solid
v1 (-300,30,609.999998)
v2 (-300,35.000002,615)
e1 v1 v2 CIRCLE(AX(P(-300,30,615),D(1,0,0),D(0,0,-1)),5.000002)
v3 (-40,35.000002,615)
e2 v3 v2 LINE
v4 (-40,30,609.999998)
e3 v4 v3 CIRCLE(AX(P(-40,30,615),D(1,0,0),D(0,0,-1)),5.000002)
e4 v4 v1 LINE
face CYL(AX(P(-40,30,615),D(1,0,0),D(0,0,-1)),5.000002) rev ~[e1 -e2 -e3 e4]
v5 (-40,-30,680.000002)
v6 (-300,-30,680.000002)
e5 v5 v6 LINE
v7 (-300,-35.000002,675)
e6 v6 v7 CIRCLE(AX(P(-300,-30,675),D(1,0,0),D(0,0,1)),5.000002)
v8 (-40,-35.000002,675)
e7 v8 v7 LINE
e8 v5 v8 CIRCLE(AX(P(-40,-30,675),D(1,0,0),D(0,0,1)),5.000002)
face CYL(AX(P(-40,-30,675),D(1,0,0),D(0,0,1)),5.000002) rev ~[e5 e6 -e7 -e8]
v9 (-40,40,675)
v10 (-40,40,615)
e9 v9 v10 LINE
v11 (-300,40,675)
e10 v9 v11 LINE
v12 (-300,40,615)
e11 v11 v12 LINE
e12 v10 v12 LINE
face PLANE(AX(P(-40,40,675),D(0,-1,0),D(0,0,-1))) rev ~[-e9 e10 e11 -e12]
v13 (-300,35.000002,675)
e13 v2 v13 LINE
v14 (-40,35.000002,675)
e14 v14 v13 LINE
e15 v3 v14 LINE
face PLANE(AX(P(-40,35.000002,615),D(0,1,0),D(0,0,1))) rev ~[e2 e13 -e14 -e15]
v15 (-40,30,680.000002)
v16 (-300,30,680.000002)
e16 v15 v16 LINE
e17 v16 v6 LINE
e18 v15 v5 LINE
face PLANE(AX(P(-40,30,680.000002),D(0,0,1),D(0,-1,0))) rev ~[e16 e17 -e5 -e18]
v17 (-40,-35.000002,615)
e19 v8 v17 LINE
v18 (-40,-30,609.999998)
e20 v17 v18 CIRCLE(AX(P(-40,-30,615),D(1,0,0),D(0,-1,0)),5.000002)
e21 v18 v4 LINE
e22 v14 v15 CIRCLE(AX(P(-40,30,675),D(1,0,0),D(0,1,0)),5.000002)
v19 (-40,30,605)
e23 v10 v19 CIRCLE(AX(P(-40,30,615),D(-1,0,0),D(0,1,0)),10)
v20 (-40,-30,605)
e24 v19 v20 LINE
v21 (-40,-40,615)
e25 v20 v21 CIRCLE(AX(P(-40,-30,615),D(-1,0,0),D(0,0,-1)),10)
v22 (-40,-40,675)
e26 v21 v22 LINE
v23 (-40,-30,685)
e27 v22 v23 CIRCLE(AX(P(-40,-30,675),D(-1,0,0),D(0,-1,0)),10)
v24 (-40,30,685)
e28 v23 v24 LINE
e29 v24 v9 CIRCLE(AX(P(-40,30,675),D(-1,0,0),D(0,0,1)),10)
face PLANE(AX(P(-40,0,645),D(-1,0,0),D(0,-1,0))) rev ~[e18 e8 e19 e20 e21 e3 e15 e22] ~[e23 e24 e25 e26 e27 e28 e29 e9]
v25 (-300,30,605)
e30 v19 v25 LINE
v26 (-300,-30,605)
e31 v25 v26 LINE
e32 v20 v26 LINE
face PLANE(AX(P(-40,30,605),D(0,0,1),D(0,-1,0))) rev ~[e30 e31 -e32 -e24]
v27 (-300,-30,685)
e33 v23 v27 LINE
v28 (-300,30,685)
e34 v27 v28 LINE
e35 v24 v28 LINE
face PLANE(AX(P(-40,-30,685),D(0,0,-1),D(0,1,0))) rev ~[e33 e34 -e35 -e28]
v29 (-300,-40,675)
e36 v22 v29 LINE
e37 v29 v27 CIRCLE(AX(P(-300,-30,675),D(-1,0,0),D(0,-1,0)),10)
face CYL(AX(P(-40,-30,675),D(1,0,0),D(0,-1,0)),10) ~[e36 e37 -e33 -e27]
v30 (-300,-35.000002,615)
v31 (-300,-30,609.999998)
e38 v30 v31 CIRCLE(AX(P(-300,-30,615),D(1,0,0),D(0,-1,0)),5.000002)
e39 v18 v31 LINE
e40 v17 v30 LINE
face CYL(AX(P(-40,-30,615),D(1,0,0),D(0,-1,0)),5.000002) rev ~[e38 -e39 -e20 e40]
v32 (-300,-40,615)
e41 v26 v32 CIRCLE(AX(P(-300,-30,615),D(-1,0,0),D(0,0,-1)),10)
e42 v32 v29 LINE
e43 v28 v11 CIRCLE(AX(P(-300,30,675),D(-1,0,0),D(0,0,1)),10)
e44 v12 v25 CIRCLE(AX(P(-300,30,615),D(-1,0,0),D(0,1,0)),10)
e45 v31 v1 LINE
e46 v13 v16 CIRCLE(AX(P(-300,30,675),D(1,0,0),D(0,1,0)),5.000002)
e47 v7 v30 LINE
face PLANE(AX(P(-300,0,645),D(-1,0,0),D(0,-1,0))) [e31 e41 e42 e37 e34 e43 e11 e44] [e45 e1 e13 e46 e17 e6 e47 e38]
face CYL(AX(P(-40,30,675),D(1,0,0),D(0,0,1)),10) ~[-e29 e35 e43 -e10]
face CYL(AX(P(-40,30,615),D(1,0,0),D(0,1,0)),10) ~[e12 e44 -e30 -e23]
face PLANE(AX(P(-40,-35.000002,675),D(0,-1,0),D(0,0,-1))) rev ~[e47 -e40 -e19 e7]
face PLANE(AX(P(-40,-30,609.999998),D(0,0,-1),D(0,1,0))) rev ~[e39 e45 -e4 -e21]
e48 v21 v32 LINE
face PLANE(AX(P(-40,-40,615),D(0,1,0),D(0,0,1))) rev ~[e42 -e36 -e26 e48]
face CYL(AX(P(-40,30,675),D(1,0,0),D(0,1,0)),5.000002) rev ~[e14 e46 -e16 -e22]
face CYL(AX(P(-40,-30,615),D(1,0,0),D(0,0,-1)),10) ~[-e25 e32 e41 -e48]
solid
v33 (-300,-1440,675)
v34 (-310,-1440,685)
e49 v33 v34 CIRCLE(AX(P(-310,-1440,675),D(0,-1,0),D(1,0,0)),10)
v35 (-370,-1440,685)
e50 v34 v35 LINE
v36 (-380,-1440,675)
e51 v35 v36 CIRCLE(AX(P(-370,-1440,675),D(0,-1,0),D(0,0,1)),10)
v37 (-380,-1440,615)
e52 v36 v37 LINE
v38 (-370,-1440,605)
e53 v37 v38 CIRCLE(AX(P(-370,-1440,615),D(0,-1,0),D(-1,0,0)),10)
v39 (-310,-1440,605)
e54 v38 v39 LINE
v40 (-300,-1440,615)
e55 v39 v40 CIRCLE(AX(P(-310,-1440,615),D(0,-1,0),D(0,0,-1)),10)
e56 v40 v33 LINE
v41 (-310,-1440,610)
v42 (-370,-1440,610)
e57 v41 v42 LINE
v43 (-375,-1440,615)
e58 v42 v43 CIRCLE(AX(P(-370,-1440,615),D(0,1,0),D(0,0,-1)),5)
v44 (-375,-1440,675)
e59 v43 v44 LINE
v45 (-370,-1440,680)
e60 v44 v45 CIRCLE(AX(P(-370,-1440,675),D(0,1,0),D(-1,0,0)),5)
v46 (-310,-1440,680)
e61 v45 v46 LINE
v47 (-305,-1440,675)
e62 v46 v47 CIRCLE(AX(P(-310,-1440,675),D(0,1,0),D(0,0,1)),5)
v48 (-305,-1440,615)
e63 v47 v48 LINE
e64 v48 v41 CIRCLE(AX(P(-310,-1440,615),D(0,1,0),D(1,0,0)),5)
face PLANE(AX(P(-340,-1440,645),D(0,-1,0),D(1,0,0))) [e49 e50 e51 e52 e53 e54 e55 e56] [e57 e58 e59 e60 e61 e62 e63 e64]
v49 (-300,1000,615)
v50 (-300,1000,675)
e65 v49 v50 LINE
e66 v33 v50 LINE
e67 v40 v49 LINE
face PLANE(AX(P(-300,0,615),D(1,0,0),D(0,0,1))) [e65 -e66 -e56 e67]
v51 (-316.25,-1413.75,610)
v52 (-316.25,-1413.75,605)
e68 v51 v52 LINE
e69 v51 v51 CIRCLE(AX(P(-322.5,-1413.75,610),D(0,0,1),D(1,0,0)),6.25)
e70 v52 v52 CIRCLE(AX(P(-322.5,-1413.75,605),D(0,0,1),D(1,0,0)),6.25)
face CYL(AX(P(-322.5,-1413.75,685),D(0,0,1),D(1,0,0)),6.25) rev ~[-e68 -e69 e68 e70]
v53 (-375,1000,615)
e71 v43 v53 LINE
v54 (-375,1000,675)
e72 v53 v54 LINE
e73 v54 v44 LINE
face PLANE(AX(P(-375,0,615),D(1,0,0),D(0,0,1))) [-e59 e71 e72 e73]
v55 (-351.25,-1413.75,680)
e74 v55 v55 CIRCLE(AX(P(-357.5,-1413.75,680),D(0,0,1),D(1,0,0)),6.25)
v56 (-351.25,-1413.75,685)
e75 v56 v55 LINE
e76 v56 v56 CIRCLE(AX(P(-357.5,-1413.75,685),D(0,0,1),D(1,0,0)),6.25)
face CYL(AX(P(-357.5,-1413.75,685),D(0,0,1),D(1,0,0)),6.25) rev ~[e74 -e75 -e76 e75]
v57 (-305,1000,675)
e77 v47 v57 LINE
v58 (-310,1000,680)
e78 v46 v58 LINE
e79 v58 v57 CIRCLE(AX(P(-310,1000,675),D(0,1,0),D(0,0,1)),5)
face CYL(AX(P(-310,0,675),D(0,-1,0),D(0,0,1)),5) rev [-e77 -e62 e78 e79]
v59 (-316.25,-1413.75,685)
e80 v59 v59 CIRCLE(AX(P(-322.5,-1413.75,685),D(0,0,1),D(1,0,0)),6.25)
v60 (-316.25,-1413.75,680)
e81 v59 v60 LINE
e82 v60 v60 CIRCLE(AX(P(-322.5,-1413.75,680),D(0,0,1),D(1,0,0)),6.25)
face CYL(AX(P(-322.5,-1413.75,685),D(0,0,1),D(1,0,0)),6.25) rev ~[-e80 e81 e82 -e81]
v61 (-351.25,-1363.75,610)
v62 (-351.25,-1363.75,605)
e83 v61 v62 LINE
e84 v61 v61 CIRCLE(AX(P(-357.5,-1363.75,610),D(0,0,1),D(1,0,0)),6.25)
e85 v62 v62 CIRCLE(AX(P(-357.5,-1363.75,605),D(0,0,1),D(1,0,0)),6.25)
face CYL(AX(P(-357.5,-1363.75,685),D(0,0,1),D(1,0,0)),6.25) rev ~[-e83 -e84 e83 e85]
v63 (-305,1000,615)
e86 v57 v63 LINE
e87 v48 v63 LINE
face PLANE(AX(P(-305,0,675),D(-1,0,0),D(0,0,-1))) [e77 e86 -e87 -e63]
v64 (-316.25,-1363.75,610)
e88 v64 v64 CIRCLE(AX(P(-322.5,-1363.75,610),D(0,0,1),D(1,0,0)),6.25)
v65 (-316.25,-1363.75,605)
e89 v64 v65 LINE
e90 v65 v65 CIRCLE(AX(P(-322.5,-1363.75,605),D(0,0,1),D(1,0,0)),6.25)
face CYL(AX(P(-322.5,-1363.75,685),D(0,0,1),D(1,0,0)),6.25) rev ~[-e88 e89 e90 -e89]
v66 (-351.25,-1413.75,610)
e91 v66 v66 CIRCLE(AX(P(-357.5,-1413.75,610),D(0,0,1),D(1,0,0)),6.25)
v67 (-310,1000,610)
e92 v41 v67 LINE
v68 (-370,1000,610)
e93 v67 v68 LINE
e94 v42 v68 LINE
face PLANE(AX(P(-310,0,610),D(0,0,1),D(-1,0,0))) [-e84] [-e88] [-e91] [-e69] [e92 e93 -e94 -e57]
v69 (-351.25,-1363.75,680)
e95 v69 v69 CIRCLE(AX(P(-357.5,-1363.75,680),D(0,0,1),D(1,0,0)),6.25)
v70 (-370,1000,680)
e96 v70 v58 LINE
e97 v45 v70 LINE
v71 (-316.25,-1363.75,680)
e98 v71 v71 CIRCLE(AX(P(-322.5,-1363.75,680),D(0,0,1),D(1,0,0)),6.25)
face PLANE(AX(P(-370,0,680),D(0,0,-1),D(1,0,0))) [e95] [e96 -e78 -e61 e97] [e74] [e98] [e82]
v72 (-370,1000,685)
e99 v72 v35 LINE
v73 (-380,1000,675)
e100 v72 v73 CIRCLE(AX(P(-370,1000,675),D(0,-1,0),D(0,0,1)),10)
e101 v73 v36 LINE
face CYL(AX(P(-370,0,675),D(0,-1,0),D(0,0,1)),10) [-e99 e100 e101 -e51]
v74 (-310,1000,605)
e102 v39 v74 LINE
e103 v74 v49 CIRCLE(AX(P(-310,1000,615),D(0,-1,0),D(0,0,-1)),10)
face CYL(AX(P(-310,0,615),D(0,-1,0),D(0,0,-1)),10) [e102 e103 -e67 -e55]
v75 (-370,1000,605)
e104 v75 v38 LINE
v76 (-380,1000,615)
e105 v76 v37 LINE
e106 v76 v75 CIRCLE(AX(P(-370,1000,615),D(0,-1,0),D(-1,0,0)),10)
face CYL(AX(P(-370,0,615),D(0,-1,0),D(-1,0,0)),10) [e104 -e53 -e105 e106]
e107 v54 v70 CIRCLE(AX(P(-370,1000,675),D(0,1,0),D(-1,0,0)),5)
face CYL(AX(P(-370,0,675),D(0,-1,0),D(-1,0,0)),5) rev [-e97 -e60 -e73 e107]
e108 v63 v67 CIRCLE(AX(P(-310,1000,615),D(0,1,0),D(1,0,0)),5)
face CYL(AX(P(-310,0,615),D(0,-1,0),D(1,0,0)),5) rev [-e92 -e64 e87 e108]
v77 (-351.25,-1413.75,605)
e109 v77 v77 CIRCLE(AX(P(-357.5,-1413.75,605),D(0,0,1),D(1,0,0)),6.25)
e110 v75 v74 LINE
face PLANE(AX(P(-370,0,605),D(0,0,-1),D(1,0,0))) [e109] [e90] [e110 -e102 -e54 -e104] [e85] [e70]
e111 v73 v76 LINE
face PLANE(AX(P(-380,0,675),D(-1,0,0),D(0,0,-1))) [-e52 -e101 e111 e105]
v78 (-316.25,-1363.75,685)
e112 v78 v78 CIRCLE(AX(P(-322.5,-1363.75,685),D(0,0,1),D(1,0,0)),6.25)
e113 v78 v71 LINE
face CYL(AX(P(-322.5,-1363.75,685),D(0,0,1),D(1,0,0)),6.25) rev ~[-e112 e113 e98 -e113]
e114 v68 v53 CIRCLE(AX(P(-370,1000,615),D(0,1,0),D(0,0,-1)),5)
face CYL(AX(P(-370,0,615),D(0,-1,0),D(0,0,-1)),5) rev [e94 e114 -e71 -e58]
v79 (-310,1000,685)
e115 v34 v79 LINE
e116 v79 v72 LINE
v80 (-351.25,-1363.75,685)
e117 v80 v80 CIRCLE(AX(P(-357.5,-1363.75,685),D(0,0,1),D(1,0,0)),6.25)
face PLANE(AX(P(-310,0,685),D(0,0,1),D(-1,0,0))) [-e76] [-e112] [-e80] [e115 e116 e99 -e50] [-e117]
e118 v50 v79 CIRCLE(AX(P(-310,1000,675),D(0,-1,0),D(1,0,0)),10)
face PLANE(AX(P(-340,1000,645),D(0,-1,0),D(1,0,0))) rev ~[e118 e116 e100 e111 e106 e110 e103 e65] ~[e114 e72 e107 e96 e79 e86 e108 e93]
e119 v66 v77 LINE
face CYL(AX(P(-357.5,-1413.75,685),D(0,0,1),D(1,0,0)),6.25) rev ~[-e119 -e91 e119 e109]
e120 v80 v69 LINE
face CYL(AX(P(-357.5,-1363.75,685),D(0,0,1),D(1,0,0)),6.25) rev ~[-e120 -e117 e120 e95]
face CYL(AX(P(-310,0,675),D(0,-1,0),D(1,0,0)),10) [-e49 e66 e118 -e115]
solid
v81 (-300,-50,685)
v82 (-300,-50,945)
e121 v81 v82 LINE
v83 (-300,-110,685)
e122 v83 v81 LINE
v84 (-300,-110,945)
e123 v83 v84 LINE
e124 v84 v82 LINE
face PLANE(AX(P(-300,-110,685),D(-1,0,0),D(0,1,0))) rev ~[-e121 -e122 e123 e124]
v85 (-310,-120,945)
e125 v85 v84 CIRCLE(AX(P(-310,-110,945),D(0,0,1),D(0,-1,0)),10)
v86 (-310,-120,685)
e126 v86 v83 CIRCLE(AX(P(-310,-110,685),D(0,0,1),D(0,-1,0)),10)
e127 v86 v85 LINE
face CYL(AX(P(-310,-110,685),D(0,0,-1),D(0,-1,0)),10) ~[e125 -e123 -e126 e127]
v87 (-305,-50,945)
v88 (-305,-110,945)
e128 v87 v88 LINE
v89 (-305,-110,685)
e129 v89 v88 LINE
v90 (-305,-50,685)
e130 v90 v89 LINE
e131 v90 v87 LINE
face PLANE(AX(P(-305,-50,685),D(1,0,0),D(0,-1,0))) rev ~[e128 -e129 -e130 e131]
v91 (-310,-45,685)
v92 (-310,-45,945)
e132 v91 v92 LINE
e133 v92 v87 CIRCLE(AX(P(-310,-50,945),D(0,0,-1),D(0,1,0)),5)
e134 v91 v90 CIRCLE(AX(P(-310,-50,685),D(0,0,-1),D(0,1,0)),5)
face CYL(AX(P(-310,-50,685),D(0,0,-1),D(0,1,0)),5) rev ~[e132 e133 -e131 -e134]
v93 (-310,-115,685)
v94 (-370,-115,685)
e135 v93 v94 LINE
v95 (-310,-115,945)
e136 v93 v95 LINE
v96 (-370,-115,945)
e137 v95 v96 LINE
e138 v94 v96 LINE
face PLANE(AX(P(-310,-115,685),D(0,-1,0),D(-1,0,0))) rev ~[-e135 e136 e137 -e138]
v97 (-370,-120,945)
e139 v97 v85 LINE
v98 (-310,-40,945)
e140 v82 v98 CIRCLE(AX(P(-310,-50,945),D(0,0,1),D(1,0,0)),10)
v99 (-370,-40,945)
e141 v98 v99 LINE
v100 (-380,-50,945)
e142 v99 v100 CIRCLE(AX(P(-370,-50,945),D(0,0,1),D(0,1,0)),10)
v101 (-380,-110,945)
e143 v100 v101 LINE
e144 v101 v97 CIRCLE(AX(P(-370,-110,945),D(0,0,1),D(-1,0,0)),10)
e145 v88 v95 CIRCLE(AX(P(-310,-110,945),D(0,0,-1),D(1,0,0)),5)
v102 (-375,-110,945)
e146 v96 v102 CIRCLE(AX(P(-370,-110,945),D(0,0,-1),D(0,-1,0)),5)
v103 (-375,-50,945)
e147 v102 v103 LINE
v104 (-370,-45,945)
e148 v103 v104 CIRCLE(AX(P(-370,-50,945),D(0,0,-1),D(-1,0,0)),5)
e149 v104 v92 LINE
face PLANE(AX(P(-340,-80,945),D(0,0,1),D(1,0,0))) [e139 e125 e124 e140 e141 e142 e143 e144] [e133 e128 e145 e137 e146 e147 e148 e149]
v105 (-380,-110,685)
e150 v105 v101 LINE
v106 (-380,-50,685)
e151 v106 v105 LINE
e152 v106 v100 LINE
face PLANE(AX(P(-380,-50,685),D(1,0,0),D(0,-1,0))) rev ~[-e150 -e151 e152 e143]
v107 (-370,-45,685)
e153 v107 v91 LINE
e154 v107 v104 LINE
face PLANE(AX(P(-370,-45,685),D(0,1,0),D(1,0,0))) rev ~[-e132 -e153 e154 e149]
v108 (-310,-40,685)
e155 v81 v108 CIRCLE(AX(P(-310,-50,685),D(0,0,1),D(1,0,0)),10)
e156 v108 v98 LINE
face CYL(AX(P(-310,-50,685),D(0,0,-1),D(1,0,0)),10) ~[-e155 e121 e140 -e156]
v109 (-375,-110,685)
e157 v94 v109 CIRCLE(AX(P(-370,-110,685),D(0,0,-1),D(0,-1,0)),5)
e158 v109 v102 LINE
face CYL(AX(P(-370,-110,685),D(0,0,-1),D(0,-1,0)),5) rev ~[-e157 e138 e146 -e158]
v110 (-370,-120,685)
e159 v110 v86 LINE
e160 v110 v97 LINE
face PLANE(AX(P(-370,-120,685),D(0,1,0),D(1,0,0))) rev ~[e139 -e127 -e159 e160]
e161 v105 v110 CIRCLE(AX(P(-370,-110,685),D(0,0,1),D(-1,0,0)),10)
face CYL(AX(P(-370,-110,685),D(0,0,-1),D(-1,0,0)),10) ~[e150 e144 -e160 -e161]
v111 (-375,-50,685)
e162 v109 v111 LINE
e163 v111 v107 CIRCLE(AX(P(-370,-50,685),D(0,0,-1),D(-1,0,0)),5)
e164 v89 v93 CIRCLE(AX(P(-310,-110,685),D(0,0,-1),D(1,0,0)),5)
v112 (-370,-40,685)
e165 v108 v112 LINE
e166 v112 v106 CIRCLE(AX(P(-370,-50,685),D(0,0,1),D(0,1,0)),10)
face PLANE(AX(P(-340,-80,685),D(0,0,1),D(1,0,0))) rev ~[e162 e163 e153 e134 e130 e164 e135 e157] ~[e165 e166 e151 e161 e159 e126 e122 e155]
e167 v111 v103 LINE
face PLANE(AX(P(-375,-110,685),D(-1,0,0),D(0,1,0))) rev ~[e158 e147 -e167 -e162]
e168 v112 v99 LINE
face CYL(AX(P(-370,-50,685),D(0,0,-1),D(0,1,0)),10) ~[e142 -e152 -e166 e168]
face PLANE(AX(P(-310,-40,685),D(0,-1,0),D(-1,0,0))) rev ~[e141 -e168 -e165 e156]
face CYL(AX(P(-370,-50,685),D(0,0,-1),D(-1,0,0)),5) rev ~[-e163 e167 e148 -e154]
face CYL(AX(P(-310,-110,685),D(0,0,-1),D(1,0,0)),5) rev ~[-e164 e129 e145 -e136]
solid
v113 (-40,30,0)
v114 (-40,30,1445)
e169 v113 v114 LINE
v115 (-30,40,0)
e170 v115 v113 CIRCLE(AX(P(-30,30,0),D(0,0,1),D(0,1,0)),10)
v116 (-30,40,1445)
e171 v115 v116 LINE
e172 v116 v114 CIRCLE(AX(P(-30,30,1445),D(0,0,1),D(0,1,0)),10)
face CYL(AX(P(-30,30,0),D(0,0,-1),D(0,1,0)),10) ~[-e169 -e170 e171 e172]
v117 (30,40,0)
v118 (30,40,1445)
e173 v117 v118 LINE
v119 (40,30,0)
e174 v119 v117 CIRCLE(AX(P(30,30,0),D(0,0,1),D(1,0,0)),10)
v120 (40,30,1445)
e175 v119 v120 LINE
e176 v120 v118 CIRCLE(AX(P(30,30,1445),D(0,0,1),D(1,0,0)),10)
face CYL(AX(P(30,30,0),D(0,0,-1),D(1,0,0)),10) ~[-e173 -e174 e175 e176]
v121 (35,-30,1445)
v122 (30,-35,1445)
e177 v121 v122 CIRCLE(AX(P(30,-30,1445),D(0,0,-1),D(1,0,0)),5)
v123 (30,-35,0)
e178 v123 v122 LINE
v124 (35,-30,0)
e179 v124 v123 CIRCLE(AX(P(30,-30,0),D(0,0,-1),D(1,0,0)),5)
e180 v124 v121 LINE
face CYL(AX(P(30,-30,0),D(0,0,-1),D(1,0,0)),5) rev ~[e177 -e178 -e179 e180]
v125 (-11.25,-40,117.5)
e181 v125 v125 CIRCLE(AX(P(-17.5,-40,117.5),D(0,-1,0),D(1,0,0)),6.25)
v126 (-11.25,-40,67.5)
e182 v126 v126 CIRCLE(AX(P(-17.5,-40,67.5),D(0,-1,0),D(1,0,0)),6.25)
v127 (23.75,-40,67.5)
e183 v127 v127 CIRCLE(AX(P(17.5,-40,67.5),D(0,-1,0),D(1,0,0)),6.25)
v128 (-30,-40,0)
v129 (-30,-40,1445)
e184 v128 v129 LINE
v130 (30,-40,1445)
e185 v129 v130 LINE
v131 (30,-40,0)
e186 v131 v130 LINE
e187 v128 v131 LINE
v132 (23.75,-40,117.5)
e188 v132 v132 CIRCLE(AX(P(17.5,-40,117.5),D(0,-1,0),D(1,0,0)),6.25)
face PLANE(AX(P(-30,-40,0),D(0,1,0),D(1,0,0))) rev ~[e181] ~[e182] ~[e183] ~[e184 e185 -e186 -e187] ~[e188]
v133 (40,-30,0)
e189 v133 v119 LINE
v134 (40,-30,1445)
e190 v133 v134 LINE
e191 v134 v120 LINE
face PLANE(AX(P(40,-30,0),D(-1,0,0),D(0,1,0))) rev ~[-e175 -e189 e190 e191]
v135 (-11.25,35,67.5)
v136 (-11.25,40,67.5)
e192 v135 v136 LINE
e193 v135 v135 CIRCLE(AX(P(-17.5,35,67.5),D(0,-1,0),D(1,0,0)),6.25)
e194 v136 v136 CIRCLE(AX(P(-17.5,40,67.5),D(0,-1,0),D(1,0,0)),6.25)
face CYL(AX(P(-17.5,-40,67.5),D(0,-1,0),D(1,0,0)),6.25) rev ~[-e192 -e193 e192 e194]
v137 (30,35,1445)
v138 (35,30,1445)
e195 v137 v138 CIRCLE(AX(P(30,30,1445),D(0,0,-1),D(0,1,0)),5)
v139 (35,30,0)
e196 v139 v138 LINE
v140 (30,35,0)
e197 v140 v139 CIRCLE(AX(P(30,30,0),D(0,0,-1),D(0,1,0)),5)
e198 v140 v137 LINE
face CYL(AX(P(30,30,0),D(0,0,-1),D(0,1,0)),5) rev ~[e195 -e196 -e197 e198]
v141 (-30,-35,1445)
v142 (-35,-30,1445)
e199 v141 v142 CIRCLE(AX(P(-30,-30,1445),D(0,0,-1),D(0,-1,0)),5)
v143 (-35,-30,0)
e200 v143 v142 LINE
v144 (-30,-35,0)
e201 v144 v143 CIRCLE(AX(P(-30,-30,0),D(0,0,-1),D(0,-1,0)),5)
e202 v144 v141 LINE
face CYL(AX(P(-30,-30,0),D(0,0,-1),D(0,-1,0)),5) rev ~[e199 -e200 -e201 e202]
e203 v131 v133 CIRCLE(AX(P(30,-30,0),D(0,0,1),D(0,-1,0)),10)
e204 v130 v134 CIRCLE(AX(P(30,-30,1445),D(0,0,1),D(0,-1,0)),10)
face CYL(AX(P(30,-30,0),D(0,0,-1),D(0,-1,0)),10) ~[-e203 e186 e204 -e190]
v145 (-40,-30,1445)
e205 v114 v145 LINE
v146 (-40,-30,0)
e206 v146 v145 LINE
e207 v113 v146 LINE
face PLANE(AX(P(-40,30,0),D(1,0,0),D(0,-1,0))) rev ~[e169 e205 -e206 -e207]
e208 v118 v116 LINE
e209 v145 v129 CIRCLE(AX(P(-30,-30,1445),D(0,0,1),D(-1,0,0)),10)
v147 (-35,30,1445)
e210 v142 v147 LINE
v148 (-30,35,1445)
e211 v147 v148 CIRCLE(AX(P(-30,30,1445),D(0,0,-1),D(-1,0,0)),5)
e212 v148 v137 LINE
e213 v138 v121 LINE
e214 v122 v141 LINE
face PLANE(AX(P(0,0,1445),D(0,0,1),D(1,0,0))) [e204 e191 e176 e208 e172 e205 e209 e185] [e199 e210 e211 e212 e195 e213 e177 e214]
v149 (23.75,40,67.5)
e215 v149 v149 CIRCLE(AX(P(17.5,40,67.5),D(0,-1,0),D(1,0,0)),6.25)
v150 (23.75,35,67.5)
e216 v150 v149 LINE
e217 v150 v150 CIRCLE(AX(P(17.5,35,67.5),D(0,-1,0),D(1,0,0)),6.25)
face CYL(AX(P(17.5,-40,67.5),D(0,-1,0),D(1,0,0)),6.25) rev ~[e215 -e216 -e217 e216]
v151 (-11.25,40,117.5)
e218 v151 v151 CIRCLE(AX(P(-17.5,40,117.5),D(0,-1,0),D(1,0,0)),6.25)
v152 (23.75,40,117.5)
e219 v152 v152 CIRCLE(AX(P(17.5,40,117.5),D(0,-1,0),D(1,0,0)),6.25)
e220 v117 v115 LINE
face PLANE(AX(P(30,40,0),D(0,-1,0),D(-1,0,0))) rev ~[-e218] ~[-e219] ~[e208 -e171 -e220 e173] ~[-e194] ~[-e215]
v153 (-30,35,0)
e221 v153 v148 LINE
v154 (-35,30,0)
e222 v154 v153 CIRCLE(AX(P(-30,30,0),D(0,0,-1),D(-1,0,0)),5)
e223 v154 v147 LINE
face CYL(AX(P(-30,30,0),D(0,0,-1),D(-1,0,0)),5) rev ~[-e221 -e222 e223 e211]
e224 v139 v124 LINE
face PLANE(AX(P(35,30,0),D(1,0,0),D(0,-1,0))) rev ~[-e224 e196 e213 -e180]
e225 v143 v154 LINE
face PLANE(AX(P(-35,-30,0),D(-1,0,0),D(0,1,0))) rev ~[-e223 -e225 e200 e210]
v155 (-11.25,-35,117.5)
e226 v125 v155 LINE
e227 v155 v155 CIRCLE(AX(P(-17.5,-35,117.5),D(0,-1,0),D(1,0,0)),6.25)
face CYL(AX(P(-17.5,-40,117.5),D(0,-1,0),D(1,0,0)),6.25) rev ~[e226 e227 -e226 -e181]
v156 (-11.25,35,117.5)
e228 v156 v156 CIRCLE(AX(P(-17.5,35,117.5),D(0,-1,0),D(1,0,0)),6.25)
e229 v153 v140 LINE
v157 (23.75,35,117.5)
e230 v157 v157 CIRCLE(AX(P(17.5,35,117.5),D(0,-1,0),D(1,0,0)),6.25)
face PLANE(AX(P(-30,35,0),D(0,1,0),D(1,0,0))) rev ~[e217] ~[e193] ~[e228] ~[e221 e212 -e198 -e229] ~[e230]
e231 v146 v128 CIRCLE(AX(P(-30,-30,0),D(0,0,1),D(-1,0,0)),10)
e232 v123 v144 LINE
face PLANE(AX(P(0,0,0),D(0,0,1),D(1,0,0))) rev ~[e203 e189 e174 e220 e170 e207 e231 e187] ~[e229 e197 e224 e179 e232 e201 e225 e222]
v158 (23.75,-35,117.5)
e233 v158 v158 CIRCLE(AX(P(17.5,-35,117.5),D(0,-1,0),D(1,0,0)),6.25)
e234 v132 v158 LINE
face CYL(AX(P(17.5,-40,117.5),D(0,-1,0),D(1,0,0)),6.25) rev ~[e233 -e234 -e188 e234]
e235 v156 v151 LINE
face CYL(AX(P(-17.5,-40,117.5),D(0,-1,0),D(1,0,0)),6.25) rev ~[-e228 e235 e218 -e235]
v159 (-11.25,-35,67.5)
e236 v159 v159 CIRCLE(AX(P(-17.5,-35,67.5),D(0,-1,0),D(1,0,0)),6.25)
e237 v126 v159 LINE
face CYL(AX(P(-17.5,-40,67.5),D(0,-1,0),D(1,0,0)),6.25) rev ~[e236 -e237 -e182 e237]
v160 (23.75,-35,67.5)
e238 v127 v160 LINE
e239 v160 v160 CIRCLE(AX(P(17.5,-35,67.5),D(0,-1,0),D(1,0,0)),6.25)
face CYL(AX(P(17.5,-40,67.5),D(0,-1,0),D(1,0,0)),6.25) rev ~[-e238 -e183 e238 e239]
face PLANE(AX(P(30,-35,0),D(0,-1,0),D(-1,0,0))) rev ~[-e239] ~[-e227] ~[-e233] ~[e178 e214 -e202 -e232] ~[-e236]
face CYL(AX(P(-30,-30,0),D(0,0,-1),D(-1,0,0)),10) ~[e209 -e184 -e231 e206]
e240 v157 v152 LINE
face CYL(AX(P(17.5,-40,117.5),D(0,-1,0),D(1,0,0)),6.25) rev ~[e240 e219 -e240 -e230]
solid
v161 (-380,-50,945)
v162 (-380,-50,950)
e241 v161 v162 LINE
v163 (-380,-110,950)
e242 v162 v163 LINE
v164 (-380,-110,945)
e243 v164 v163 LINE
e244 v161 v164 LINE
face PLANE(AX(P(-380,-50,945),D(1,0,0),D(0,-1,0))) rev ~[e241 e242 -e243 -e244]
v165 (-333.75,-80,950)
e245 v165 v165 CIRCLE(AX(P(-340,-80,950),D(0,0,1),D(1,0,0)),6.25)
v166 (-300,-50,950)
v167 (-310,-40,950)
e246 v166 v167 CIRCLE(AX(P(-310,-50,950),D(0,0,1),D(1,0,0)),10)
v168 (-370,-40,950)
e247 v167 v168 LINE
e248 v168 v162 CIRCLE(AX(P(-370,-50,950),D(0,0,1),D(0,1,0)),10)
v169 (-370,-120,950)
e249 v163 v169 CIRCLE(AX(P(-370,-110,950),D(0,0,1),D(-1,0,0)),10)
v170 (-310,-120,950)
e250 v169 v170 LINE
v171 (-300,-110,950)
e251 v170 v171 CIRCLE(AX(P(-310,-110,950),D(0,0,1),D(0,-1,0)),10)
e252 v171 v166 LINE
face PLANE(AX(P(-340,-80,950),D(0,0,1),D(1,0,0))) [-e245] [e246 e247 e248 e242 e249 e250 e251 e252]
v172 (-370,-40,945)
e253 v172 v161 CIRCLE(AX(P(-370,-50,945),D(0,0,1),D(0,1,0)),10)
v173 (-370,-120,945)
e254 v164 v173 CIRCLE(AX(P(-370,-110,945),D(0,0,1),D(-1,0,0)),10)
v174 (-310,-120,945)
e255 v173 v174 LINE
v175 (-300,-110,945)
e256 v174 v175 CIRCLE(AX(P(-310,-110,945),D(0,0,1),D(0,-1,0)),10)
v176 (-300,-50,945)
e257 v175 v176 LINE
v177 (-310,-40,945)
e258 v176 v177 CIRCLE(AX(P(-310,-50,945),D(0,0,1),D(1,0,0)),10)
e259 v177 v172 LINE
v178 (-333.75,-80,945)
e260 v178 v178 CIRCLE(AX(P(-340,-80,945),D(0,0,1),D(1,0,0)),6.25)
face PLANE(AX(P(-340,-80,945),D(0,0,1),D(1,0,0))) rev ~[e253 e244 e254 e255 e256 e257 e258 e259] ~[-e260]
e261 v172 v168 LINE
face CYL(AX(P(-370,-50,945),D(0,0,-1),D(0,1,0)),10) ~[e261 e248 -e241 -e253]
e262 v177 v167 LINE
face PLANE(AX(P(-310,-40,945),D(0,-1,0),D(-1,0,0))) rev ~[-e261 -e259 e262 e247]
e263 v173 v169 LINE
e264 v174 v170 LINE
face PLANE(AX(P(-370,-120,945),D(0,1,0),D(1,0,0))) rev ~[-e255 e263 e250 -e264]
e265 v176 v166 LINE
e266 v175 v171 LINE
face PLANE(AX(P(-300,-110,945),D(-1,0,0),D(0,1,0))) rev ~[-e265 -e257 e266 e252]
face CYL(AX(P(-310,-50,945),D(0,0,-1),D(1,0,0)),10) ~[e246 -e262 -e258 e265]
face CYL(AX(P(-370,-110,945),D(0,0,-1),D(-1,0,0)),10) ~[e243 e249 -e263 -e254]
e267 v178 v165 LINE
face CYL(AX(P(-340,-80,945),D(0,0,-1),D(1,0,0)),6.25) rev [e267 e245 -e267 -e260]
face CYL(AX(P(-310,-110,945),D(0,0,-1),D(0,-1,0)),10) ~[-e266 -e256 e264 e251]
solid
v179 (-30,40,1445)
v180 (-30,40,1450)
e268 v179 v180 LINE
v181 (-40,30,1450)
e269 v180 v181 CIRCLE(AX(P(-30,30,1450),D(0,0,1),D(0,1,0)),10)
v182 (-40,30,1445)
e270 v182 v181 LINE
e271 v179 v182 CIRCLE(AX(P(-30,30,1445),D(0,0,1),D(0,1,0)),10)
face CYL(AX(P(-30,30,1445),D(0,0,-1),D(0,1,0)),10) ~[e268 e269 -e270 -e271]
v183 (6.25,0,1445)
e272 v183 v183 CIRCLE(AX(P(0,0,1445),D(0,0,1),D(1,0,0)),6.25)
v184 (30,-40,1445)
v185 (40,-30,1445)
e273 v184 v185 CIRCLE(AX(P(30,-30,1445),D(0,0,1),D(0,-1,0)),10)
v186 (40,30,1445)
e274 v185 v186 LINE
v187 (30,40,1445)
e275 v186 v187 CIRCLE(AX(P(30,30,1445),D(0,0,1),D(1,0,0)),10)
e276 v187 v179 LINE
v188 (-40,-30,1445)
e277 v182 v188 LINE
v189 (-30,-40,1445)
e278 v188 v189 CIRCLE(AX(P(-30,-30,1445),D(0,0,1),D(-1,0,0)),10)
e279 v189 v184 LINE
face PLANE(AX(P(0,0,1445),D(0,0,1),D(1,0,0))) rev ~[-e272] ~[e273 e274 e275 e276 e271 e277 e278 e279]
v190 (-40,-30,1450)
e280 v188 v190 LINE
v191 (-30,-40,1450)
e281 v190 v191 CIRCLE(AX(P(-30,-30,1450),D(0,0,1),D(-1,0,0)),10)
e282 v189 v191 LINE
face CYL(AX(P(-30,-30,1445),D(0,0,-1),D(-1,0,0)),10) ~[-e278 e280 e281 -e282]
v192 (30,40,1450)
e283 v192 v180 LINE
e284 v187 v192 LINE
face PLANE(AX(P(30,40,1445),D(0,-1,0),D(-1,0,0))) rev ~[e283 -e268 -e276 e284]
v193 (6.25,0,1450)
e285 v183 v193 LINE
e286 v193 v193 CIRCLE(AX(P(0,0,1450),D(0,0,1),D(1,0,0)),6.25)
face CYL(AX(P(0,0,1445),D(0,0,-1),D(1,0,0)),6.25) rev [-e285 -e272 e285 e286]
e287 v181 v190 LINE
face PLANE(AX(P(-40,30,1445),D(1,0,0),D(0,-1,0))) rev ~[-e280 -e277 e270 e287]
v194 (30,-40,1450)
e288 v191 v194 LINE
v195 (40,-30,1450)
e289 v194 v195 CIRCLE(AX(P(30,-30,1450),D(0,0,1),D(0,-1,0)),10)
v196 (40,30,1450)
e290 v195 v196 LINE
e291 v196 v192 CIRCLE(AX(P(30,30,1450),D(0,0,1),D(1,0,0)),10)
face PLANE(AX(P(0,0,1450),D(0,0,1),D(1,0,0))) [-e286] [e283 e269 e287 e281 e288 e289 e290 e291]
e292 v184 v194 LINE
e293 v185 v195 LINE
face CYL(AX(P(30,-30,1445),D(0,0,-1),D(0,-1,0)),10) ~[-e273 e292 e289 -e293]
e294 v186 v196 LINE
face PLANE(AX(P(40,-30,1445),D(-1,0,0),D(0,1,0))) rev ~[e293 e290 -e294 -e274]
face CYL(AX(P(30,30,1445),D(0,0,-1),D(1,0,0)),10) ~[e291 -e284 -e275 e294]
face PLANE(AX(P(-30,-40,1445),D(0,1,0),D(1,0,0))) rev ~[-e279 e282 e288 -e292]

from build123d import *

# Parameters (mm, degrees)
F1_DEPTH      = 1445
F3_DEPTH      = 260
F5_DEPTH      = 1440
F5_DEPTH_BACK = 1000
F6_R          = 6.25
F7_DEPTH      = 685.001
F8_R          = 6.25
F9_DEPTH      = 1040.001
F10_R         = 6.25
F11_DEPTH     = 5
F13_DEPTH     = 260
F14_R         = 6.25
F15_DEPTH     = 5


with BuildPart() as f1:
    # F0 (on Top) → F1 (new body)
    with BuildSketch(Plane.XY):
        with BuildLine():
            ThreePointArc((40, 30), (37.0710678119, 37.0710678119), (30, 40))
            Line((30, 40), (-30, 40))
            ThreePointArc((-30, 40), (-37.0710678119, 37.0710678119), (-40, 30))
            Line((-40, 30), (-40, -30))
            ThreePointArc((-40, -30), (-37.0710678119, -37.0710678119), (-30, -40))
            Line((-30, -40), (30, -40))
            ThreePointArc((30, -40), (37.0710678119, -37.0710678119), (40, -30))
            Line((40, -30), (40, 30))
        make_face()
        with BuildLine():
            ThreePointArc((30, 35.000000149), (33.5355340113, 33.5355340113), (35.000000149, 30))
            Line((35.000000149, 30), (35.000000149, -30))
            ThreePointArc((35.000000149, -30), (33.5355340113, -33.5355340113), (30, -35.000000149))
            Line((30, -35.000000149), (-30, -35.000000149))
            ThreePointArc((-30, -35.000000149), (-33.5355340113, -33.5355340113), (-35.000000149, -30))
            Line((-35.000000149, -30), (-35.000000149, 30))
            ThreePointArc((-35.000000149, 30), (-33.5355340113, 33.5355340113), (-30, 35.000000149))
            Line((-30, 35.000000149), (30, 35.000000149))
        make_face(mode=Mode.SUBTRACT)
    extrude(amount=F1_DEPTH)

    # F8 (on face) → F9 (cut, through all)
    with BuildSketch(Plane.XZ.offset(40)):
        with Locations((17.5, 117.5)):
            Circle(F8_R)
        with Locations((17.5, 67.5)):
            Circle(F8_R)
        with Locations((-17.5, 67.5)):
            Circle(F8_R)
        with Locations((-17.5, 117.5)):
            Circle(F8_R)
    extrude(amount=-F9_DEPTH, mode=Mode.SUBTRACT)


with BuildPart() as f3:
    # F2 (on face) → F3 (new body)
    with BuildSketch(Plane(origin=(-40, 0, 0), x_dir=(0, -1, 0), z_dir=(-1, 0, 0))):
        with BuildLine():
            ThreePointArc((40, 675), (37.0710678119, 682.0710678119), (30, 685))
            Line((30, 685), (-30, 685))
            ThreePointArc((-30, 685), (-37.0710678119, 682.0710678119), (-40, 675))
            Line((-40, 675), (-40, 615))
            ThreePointArc((-40, 615), (-37.0710678119, 607.9289321881), (-30, 605))
            Line((-30, 605), (30, 605))
            ThreePointArc((30, 605), (37.0710678119, 607.9289321881), (40, 615))
            Line((40, 615), (40, 675))
        make_face()
        with BuildLine():
            ThreePointArc((30, 680.0000023842), (33.5355355918, 678.5355355918), (35.0000023842, 675))
            Line((35.0000023842, 675), (35.0000023842, 615))
            ThreePointArc((35.0000023842, 615), (33.5355355918, 611.4644644082), (30, 609.9999976158))
            Line((30, 609.9999976158), (-30, 609.9999976158))
            ThreePointArc((-30, 609.9999976158), (-33.5355355918, 611.4644644082), (-35.0000023842, 615))
            Line((-35.0000023842, 615), (-35.0000023842, 675))
            ThreePointArc((-35.0000023842, 675), (-33.5355355918, 678.5355355918), (-30, 680.0000023842))
            Line((-30, 680.0000023842), (30, 680.0000023842))
        make_face(mode=Mode.SUBTRACT)
    extrude(amount=F3_DEPTH)


with BuildPart() as f5:
    # F4 (on Front) → F5 (new body, two sides)
    with BuildSketch(Plane.XZ) as f5_sk:
        with BuildLine():
            Line((-310, 685), (-370, 685))
            ThreePointArc((-370, 685), (-377.0710678119, 682.0710678119), (-380, 675))
            Line((-380, 675), (-380, 615))
            ThreePointArc((-380, 615), (-377.0710678119, 607.9289321881), (-370, 605))
            Line((-370, 605), (-310, 605))
            ThreePointArc((-310, 605), (-302.9289321881, 607.9289321881), (-300, 615))
            Line((-300, 615), (-300, 675))
            ThreePointArc((-300, 675), (-302.9289321881, 682.0710678119), (-310, 685))
        make_face()
        with BuildLine():
            ThreePointArc((-375, 675), (-373.5355339059, 678.5355339059), (-370, 680))
            Line((-370, 680), (-310, 680))
            ThreePointArc((-310, 680), (-306.4644660941, 678.5355339059), (-305, 675))
            Line((-305, 675), (-305, 615))
            ThreePointArc((-305, 615), (-306.4644660941, 611.4644660941), (-310, 610))
            Line((-310, 610), (-370, 610))
            ThreePointArc((-370, 610), (-373.5355339059, 611.4644660941), (-375, 615))
            Line((-375, 615), (-375, 675))
        make_face(mode=Mode.SUBTRACT)
    extrude(amount=F5_DEPTH)
    extrude(f5_sk.sketch, amount=-F5_DEPTH_BACK)

    # F6 (on face) → F7 (cut, through all)
    with BuildSketch(Plane.XY.offset(685)):
        with Locations((-322.5, -1413.75)):
            Circle(F6_R)
        with Locations((-322.5, -1363.75)):
            Circle(F6_R)
        with Locations((-357.5, -1413.75)):
            Circle(F6_R)
        with Locations((-357.5, -1363.75)):
            Circle(F6_R)
    extrude(amount=-F7_DEPTH, mode=Mode.SUBTRACT)


with BuildPart() as f11:
    # F10 (on face) → F11 (new body)
    with BuildSketch(Plane.XY.offset(1445)):
        with BuildLine():
            ThreePointArc((40, 30), (37.0710678119, 37.0710678119), (30, 40))
            Line((30, 40), (-30, 40))
            ThreePointArc((-30, 40), (-37.0710678119, 37.0710678119), (-40, 30))
            Line((-40, 30), (-40, -30))
            ThreePointArc((-40, -30), (-37.0710678119, -37.0710678119), (-30, -40))
            Line((-30, -40), (30, -40))
            ThreePointArc((30, -40), (37.0710678119, -37.0710678119), (40, -30))
            Line((40, -30), (40, 30))
        make_face()
        Circle(F10_R, mode=Mode.SUBTRACT)
    extrude(amount=F11_DEPTH)


with BuildPart() as f13:
    # F12 (on face) → F13 (new body)
    with BuildSketch(Plane.XY.offset(685)):
        with BuildLine():
            ThreePointArc((-300, -50), (-302.9289321881, -42.9289321881), (-310, -40))
            Line((-310, -40), (-370, -40))
            ThreePointArc((-370, -40), (-377.0710678119, -42.9289321881), (-380, -50))
            Line((-380, -50), (-380, -110))
            ThreePointArc((-380, -110), (-377.0710678119, -117.0710678119), (-370, -120))
            Line((-370, -120), (-310, -120))
            ThreePointArc((-310, -120), (-302.9289321881, -117.0710678119), (-300, -110))
            Line((-300, -110), (-300, -50))
        make_face()
        with BuildLine():
            Line((-370, -45), (-310, -45))
            ThreePointArc((-310, -45), (-306.4644660941, -46.4644660941), (-305, -50))
            Line((-305, -50), (-305, -110))
            ThreePointArc((-305, -110), (-306.4644660941, -113.5355339059), (-310, -115))
            Line((-310, -115), (-370, -115))
            ThreePointArc((-370, -115), (-373.5355339059, -113.5355339059), (-375, -110))
            Line((-375, -110), (-375, -50))
            ThreePointArc((-375, -50), (-373.5355339059, -46.4644660941), (-370, -45))
        make_face(mode=Mode.SUBTRACT)
    extrude(amount=F13_DEPTH)


with BuildPart() as f15:
    # F14 (on face) → F15 (new body)
    with BuildSketch(Plane.XY.offset(945)):
        with BuildLine():
            ThreePointArc((-300, -50), (-302.9289321881, -42.9289321881), (-310, -40))
            Line((-310, -40), (-370, -40))
            ThreePointArc((-370, -40), (-377.0710678119, -42.9289321881), (-380, -50))
            Line((-380, -50), (-380, -110))
            ThreePointArc((-380, -110), (-377.0710678119, -117.0710678119), (-370, -120))
            Line((-370, -120), (-310, -120))
            ThreePointArc((-310, -120), (-302.9289321881, -117.0710678119), (-300, -110))
            Line((-300, -110), (-300, -50))
        make_face()
        with Locations((-340, -80)):
            Circle(F14_R, mode=Mode.SUBTRACT)
    extrude(amount=F15_DEPTH)


solid = Compound([f1.part, f3.part, f5.part, f11.part, f13.part, f15.part])
